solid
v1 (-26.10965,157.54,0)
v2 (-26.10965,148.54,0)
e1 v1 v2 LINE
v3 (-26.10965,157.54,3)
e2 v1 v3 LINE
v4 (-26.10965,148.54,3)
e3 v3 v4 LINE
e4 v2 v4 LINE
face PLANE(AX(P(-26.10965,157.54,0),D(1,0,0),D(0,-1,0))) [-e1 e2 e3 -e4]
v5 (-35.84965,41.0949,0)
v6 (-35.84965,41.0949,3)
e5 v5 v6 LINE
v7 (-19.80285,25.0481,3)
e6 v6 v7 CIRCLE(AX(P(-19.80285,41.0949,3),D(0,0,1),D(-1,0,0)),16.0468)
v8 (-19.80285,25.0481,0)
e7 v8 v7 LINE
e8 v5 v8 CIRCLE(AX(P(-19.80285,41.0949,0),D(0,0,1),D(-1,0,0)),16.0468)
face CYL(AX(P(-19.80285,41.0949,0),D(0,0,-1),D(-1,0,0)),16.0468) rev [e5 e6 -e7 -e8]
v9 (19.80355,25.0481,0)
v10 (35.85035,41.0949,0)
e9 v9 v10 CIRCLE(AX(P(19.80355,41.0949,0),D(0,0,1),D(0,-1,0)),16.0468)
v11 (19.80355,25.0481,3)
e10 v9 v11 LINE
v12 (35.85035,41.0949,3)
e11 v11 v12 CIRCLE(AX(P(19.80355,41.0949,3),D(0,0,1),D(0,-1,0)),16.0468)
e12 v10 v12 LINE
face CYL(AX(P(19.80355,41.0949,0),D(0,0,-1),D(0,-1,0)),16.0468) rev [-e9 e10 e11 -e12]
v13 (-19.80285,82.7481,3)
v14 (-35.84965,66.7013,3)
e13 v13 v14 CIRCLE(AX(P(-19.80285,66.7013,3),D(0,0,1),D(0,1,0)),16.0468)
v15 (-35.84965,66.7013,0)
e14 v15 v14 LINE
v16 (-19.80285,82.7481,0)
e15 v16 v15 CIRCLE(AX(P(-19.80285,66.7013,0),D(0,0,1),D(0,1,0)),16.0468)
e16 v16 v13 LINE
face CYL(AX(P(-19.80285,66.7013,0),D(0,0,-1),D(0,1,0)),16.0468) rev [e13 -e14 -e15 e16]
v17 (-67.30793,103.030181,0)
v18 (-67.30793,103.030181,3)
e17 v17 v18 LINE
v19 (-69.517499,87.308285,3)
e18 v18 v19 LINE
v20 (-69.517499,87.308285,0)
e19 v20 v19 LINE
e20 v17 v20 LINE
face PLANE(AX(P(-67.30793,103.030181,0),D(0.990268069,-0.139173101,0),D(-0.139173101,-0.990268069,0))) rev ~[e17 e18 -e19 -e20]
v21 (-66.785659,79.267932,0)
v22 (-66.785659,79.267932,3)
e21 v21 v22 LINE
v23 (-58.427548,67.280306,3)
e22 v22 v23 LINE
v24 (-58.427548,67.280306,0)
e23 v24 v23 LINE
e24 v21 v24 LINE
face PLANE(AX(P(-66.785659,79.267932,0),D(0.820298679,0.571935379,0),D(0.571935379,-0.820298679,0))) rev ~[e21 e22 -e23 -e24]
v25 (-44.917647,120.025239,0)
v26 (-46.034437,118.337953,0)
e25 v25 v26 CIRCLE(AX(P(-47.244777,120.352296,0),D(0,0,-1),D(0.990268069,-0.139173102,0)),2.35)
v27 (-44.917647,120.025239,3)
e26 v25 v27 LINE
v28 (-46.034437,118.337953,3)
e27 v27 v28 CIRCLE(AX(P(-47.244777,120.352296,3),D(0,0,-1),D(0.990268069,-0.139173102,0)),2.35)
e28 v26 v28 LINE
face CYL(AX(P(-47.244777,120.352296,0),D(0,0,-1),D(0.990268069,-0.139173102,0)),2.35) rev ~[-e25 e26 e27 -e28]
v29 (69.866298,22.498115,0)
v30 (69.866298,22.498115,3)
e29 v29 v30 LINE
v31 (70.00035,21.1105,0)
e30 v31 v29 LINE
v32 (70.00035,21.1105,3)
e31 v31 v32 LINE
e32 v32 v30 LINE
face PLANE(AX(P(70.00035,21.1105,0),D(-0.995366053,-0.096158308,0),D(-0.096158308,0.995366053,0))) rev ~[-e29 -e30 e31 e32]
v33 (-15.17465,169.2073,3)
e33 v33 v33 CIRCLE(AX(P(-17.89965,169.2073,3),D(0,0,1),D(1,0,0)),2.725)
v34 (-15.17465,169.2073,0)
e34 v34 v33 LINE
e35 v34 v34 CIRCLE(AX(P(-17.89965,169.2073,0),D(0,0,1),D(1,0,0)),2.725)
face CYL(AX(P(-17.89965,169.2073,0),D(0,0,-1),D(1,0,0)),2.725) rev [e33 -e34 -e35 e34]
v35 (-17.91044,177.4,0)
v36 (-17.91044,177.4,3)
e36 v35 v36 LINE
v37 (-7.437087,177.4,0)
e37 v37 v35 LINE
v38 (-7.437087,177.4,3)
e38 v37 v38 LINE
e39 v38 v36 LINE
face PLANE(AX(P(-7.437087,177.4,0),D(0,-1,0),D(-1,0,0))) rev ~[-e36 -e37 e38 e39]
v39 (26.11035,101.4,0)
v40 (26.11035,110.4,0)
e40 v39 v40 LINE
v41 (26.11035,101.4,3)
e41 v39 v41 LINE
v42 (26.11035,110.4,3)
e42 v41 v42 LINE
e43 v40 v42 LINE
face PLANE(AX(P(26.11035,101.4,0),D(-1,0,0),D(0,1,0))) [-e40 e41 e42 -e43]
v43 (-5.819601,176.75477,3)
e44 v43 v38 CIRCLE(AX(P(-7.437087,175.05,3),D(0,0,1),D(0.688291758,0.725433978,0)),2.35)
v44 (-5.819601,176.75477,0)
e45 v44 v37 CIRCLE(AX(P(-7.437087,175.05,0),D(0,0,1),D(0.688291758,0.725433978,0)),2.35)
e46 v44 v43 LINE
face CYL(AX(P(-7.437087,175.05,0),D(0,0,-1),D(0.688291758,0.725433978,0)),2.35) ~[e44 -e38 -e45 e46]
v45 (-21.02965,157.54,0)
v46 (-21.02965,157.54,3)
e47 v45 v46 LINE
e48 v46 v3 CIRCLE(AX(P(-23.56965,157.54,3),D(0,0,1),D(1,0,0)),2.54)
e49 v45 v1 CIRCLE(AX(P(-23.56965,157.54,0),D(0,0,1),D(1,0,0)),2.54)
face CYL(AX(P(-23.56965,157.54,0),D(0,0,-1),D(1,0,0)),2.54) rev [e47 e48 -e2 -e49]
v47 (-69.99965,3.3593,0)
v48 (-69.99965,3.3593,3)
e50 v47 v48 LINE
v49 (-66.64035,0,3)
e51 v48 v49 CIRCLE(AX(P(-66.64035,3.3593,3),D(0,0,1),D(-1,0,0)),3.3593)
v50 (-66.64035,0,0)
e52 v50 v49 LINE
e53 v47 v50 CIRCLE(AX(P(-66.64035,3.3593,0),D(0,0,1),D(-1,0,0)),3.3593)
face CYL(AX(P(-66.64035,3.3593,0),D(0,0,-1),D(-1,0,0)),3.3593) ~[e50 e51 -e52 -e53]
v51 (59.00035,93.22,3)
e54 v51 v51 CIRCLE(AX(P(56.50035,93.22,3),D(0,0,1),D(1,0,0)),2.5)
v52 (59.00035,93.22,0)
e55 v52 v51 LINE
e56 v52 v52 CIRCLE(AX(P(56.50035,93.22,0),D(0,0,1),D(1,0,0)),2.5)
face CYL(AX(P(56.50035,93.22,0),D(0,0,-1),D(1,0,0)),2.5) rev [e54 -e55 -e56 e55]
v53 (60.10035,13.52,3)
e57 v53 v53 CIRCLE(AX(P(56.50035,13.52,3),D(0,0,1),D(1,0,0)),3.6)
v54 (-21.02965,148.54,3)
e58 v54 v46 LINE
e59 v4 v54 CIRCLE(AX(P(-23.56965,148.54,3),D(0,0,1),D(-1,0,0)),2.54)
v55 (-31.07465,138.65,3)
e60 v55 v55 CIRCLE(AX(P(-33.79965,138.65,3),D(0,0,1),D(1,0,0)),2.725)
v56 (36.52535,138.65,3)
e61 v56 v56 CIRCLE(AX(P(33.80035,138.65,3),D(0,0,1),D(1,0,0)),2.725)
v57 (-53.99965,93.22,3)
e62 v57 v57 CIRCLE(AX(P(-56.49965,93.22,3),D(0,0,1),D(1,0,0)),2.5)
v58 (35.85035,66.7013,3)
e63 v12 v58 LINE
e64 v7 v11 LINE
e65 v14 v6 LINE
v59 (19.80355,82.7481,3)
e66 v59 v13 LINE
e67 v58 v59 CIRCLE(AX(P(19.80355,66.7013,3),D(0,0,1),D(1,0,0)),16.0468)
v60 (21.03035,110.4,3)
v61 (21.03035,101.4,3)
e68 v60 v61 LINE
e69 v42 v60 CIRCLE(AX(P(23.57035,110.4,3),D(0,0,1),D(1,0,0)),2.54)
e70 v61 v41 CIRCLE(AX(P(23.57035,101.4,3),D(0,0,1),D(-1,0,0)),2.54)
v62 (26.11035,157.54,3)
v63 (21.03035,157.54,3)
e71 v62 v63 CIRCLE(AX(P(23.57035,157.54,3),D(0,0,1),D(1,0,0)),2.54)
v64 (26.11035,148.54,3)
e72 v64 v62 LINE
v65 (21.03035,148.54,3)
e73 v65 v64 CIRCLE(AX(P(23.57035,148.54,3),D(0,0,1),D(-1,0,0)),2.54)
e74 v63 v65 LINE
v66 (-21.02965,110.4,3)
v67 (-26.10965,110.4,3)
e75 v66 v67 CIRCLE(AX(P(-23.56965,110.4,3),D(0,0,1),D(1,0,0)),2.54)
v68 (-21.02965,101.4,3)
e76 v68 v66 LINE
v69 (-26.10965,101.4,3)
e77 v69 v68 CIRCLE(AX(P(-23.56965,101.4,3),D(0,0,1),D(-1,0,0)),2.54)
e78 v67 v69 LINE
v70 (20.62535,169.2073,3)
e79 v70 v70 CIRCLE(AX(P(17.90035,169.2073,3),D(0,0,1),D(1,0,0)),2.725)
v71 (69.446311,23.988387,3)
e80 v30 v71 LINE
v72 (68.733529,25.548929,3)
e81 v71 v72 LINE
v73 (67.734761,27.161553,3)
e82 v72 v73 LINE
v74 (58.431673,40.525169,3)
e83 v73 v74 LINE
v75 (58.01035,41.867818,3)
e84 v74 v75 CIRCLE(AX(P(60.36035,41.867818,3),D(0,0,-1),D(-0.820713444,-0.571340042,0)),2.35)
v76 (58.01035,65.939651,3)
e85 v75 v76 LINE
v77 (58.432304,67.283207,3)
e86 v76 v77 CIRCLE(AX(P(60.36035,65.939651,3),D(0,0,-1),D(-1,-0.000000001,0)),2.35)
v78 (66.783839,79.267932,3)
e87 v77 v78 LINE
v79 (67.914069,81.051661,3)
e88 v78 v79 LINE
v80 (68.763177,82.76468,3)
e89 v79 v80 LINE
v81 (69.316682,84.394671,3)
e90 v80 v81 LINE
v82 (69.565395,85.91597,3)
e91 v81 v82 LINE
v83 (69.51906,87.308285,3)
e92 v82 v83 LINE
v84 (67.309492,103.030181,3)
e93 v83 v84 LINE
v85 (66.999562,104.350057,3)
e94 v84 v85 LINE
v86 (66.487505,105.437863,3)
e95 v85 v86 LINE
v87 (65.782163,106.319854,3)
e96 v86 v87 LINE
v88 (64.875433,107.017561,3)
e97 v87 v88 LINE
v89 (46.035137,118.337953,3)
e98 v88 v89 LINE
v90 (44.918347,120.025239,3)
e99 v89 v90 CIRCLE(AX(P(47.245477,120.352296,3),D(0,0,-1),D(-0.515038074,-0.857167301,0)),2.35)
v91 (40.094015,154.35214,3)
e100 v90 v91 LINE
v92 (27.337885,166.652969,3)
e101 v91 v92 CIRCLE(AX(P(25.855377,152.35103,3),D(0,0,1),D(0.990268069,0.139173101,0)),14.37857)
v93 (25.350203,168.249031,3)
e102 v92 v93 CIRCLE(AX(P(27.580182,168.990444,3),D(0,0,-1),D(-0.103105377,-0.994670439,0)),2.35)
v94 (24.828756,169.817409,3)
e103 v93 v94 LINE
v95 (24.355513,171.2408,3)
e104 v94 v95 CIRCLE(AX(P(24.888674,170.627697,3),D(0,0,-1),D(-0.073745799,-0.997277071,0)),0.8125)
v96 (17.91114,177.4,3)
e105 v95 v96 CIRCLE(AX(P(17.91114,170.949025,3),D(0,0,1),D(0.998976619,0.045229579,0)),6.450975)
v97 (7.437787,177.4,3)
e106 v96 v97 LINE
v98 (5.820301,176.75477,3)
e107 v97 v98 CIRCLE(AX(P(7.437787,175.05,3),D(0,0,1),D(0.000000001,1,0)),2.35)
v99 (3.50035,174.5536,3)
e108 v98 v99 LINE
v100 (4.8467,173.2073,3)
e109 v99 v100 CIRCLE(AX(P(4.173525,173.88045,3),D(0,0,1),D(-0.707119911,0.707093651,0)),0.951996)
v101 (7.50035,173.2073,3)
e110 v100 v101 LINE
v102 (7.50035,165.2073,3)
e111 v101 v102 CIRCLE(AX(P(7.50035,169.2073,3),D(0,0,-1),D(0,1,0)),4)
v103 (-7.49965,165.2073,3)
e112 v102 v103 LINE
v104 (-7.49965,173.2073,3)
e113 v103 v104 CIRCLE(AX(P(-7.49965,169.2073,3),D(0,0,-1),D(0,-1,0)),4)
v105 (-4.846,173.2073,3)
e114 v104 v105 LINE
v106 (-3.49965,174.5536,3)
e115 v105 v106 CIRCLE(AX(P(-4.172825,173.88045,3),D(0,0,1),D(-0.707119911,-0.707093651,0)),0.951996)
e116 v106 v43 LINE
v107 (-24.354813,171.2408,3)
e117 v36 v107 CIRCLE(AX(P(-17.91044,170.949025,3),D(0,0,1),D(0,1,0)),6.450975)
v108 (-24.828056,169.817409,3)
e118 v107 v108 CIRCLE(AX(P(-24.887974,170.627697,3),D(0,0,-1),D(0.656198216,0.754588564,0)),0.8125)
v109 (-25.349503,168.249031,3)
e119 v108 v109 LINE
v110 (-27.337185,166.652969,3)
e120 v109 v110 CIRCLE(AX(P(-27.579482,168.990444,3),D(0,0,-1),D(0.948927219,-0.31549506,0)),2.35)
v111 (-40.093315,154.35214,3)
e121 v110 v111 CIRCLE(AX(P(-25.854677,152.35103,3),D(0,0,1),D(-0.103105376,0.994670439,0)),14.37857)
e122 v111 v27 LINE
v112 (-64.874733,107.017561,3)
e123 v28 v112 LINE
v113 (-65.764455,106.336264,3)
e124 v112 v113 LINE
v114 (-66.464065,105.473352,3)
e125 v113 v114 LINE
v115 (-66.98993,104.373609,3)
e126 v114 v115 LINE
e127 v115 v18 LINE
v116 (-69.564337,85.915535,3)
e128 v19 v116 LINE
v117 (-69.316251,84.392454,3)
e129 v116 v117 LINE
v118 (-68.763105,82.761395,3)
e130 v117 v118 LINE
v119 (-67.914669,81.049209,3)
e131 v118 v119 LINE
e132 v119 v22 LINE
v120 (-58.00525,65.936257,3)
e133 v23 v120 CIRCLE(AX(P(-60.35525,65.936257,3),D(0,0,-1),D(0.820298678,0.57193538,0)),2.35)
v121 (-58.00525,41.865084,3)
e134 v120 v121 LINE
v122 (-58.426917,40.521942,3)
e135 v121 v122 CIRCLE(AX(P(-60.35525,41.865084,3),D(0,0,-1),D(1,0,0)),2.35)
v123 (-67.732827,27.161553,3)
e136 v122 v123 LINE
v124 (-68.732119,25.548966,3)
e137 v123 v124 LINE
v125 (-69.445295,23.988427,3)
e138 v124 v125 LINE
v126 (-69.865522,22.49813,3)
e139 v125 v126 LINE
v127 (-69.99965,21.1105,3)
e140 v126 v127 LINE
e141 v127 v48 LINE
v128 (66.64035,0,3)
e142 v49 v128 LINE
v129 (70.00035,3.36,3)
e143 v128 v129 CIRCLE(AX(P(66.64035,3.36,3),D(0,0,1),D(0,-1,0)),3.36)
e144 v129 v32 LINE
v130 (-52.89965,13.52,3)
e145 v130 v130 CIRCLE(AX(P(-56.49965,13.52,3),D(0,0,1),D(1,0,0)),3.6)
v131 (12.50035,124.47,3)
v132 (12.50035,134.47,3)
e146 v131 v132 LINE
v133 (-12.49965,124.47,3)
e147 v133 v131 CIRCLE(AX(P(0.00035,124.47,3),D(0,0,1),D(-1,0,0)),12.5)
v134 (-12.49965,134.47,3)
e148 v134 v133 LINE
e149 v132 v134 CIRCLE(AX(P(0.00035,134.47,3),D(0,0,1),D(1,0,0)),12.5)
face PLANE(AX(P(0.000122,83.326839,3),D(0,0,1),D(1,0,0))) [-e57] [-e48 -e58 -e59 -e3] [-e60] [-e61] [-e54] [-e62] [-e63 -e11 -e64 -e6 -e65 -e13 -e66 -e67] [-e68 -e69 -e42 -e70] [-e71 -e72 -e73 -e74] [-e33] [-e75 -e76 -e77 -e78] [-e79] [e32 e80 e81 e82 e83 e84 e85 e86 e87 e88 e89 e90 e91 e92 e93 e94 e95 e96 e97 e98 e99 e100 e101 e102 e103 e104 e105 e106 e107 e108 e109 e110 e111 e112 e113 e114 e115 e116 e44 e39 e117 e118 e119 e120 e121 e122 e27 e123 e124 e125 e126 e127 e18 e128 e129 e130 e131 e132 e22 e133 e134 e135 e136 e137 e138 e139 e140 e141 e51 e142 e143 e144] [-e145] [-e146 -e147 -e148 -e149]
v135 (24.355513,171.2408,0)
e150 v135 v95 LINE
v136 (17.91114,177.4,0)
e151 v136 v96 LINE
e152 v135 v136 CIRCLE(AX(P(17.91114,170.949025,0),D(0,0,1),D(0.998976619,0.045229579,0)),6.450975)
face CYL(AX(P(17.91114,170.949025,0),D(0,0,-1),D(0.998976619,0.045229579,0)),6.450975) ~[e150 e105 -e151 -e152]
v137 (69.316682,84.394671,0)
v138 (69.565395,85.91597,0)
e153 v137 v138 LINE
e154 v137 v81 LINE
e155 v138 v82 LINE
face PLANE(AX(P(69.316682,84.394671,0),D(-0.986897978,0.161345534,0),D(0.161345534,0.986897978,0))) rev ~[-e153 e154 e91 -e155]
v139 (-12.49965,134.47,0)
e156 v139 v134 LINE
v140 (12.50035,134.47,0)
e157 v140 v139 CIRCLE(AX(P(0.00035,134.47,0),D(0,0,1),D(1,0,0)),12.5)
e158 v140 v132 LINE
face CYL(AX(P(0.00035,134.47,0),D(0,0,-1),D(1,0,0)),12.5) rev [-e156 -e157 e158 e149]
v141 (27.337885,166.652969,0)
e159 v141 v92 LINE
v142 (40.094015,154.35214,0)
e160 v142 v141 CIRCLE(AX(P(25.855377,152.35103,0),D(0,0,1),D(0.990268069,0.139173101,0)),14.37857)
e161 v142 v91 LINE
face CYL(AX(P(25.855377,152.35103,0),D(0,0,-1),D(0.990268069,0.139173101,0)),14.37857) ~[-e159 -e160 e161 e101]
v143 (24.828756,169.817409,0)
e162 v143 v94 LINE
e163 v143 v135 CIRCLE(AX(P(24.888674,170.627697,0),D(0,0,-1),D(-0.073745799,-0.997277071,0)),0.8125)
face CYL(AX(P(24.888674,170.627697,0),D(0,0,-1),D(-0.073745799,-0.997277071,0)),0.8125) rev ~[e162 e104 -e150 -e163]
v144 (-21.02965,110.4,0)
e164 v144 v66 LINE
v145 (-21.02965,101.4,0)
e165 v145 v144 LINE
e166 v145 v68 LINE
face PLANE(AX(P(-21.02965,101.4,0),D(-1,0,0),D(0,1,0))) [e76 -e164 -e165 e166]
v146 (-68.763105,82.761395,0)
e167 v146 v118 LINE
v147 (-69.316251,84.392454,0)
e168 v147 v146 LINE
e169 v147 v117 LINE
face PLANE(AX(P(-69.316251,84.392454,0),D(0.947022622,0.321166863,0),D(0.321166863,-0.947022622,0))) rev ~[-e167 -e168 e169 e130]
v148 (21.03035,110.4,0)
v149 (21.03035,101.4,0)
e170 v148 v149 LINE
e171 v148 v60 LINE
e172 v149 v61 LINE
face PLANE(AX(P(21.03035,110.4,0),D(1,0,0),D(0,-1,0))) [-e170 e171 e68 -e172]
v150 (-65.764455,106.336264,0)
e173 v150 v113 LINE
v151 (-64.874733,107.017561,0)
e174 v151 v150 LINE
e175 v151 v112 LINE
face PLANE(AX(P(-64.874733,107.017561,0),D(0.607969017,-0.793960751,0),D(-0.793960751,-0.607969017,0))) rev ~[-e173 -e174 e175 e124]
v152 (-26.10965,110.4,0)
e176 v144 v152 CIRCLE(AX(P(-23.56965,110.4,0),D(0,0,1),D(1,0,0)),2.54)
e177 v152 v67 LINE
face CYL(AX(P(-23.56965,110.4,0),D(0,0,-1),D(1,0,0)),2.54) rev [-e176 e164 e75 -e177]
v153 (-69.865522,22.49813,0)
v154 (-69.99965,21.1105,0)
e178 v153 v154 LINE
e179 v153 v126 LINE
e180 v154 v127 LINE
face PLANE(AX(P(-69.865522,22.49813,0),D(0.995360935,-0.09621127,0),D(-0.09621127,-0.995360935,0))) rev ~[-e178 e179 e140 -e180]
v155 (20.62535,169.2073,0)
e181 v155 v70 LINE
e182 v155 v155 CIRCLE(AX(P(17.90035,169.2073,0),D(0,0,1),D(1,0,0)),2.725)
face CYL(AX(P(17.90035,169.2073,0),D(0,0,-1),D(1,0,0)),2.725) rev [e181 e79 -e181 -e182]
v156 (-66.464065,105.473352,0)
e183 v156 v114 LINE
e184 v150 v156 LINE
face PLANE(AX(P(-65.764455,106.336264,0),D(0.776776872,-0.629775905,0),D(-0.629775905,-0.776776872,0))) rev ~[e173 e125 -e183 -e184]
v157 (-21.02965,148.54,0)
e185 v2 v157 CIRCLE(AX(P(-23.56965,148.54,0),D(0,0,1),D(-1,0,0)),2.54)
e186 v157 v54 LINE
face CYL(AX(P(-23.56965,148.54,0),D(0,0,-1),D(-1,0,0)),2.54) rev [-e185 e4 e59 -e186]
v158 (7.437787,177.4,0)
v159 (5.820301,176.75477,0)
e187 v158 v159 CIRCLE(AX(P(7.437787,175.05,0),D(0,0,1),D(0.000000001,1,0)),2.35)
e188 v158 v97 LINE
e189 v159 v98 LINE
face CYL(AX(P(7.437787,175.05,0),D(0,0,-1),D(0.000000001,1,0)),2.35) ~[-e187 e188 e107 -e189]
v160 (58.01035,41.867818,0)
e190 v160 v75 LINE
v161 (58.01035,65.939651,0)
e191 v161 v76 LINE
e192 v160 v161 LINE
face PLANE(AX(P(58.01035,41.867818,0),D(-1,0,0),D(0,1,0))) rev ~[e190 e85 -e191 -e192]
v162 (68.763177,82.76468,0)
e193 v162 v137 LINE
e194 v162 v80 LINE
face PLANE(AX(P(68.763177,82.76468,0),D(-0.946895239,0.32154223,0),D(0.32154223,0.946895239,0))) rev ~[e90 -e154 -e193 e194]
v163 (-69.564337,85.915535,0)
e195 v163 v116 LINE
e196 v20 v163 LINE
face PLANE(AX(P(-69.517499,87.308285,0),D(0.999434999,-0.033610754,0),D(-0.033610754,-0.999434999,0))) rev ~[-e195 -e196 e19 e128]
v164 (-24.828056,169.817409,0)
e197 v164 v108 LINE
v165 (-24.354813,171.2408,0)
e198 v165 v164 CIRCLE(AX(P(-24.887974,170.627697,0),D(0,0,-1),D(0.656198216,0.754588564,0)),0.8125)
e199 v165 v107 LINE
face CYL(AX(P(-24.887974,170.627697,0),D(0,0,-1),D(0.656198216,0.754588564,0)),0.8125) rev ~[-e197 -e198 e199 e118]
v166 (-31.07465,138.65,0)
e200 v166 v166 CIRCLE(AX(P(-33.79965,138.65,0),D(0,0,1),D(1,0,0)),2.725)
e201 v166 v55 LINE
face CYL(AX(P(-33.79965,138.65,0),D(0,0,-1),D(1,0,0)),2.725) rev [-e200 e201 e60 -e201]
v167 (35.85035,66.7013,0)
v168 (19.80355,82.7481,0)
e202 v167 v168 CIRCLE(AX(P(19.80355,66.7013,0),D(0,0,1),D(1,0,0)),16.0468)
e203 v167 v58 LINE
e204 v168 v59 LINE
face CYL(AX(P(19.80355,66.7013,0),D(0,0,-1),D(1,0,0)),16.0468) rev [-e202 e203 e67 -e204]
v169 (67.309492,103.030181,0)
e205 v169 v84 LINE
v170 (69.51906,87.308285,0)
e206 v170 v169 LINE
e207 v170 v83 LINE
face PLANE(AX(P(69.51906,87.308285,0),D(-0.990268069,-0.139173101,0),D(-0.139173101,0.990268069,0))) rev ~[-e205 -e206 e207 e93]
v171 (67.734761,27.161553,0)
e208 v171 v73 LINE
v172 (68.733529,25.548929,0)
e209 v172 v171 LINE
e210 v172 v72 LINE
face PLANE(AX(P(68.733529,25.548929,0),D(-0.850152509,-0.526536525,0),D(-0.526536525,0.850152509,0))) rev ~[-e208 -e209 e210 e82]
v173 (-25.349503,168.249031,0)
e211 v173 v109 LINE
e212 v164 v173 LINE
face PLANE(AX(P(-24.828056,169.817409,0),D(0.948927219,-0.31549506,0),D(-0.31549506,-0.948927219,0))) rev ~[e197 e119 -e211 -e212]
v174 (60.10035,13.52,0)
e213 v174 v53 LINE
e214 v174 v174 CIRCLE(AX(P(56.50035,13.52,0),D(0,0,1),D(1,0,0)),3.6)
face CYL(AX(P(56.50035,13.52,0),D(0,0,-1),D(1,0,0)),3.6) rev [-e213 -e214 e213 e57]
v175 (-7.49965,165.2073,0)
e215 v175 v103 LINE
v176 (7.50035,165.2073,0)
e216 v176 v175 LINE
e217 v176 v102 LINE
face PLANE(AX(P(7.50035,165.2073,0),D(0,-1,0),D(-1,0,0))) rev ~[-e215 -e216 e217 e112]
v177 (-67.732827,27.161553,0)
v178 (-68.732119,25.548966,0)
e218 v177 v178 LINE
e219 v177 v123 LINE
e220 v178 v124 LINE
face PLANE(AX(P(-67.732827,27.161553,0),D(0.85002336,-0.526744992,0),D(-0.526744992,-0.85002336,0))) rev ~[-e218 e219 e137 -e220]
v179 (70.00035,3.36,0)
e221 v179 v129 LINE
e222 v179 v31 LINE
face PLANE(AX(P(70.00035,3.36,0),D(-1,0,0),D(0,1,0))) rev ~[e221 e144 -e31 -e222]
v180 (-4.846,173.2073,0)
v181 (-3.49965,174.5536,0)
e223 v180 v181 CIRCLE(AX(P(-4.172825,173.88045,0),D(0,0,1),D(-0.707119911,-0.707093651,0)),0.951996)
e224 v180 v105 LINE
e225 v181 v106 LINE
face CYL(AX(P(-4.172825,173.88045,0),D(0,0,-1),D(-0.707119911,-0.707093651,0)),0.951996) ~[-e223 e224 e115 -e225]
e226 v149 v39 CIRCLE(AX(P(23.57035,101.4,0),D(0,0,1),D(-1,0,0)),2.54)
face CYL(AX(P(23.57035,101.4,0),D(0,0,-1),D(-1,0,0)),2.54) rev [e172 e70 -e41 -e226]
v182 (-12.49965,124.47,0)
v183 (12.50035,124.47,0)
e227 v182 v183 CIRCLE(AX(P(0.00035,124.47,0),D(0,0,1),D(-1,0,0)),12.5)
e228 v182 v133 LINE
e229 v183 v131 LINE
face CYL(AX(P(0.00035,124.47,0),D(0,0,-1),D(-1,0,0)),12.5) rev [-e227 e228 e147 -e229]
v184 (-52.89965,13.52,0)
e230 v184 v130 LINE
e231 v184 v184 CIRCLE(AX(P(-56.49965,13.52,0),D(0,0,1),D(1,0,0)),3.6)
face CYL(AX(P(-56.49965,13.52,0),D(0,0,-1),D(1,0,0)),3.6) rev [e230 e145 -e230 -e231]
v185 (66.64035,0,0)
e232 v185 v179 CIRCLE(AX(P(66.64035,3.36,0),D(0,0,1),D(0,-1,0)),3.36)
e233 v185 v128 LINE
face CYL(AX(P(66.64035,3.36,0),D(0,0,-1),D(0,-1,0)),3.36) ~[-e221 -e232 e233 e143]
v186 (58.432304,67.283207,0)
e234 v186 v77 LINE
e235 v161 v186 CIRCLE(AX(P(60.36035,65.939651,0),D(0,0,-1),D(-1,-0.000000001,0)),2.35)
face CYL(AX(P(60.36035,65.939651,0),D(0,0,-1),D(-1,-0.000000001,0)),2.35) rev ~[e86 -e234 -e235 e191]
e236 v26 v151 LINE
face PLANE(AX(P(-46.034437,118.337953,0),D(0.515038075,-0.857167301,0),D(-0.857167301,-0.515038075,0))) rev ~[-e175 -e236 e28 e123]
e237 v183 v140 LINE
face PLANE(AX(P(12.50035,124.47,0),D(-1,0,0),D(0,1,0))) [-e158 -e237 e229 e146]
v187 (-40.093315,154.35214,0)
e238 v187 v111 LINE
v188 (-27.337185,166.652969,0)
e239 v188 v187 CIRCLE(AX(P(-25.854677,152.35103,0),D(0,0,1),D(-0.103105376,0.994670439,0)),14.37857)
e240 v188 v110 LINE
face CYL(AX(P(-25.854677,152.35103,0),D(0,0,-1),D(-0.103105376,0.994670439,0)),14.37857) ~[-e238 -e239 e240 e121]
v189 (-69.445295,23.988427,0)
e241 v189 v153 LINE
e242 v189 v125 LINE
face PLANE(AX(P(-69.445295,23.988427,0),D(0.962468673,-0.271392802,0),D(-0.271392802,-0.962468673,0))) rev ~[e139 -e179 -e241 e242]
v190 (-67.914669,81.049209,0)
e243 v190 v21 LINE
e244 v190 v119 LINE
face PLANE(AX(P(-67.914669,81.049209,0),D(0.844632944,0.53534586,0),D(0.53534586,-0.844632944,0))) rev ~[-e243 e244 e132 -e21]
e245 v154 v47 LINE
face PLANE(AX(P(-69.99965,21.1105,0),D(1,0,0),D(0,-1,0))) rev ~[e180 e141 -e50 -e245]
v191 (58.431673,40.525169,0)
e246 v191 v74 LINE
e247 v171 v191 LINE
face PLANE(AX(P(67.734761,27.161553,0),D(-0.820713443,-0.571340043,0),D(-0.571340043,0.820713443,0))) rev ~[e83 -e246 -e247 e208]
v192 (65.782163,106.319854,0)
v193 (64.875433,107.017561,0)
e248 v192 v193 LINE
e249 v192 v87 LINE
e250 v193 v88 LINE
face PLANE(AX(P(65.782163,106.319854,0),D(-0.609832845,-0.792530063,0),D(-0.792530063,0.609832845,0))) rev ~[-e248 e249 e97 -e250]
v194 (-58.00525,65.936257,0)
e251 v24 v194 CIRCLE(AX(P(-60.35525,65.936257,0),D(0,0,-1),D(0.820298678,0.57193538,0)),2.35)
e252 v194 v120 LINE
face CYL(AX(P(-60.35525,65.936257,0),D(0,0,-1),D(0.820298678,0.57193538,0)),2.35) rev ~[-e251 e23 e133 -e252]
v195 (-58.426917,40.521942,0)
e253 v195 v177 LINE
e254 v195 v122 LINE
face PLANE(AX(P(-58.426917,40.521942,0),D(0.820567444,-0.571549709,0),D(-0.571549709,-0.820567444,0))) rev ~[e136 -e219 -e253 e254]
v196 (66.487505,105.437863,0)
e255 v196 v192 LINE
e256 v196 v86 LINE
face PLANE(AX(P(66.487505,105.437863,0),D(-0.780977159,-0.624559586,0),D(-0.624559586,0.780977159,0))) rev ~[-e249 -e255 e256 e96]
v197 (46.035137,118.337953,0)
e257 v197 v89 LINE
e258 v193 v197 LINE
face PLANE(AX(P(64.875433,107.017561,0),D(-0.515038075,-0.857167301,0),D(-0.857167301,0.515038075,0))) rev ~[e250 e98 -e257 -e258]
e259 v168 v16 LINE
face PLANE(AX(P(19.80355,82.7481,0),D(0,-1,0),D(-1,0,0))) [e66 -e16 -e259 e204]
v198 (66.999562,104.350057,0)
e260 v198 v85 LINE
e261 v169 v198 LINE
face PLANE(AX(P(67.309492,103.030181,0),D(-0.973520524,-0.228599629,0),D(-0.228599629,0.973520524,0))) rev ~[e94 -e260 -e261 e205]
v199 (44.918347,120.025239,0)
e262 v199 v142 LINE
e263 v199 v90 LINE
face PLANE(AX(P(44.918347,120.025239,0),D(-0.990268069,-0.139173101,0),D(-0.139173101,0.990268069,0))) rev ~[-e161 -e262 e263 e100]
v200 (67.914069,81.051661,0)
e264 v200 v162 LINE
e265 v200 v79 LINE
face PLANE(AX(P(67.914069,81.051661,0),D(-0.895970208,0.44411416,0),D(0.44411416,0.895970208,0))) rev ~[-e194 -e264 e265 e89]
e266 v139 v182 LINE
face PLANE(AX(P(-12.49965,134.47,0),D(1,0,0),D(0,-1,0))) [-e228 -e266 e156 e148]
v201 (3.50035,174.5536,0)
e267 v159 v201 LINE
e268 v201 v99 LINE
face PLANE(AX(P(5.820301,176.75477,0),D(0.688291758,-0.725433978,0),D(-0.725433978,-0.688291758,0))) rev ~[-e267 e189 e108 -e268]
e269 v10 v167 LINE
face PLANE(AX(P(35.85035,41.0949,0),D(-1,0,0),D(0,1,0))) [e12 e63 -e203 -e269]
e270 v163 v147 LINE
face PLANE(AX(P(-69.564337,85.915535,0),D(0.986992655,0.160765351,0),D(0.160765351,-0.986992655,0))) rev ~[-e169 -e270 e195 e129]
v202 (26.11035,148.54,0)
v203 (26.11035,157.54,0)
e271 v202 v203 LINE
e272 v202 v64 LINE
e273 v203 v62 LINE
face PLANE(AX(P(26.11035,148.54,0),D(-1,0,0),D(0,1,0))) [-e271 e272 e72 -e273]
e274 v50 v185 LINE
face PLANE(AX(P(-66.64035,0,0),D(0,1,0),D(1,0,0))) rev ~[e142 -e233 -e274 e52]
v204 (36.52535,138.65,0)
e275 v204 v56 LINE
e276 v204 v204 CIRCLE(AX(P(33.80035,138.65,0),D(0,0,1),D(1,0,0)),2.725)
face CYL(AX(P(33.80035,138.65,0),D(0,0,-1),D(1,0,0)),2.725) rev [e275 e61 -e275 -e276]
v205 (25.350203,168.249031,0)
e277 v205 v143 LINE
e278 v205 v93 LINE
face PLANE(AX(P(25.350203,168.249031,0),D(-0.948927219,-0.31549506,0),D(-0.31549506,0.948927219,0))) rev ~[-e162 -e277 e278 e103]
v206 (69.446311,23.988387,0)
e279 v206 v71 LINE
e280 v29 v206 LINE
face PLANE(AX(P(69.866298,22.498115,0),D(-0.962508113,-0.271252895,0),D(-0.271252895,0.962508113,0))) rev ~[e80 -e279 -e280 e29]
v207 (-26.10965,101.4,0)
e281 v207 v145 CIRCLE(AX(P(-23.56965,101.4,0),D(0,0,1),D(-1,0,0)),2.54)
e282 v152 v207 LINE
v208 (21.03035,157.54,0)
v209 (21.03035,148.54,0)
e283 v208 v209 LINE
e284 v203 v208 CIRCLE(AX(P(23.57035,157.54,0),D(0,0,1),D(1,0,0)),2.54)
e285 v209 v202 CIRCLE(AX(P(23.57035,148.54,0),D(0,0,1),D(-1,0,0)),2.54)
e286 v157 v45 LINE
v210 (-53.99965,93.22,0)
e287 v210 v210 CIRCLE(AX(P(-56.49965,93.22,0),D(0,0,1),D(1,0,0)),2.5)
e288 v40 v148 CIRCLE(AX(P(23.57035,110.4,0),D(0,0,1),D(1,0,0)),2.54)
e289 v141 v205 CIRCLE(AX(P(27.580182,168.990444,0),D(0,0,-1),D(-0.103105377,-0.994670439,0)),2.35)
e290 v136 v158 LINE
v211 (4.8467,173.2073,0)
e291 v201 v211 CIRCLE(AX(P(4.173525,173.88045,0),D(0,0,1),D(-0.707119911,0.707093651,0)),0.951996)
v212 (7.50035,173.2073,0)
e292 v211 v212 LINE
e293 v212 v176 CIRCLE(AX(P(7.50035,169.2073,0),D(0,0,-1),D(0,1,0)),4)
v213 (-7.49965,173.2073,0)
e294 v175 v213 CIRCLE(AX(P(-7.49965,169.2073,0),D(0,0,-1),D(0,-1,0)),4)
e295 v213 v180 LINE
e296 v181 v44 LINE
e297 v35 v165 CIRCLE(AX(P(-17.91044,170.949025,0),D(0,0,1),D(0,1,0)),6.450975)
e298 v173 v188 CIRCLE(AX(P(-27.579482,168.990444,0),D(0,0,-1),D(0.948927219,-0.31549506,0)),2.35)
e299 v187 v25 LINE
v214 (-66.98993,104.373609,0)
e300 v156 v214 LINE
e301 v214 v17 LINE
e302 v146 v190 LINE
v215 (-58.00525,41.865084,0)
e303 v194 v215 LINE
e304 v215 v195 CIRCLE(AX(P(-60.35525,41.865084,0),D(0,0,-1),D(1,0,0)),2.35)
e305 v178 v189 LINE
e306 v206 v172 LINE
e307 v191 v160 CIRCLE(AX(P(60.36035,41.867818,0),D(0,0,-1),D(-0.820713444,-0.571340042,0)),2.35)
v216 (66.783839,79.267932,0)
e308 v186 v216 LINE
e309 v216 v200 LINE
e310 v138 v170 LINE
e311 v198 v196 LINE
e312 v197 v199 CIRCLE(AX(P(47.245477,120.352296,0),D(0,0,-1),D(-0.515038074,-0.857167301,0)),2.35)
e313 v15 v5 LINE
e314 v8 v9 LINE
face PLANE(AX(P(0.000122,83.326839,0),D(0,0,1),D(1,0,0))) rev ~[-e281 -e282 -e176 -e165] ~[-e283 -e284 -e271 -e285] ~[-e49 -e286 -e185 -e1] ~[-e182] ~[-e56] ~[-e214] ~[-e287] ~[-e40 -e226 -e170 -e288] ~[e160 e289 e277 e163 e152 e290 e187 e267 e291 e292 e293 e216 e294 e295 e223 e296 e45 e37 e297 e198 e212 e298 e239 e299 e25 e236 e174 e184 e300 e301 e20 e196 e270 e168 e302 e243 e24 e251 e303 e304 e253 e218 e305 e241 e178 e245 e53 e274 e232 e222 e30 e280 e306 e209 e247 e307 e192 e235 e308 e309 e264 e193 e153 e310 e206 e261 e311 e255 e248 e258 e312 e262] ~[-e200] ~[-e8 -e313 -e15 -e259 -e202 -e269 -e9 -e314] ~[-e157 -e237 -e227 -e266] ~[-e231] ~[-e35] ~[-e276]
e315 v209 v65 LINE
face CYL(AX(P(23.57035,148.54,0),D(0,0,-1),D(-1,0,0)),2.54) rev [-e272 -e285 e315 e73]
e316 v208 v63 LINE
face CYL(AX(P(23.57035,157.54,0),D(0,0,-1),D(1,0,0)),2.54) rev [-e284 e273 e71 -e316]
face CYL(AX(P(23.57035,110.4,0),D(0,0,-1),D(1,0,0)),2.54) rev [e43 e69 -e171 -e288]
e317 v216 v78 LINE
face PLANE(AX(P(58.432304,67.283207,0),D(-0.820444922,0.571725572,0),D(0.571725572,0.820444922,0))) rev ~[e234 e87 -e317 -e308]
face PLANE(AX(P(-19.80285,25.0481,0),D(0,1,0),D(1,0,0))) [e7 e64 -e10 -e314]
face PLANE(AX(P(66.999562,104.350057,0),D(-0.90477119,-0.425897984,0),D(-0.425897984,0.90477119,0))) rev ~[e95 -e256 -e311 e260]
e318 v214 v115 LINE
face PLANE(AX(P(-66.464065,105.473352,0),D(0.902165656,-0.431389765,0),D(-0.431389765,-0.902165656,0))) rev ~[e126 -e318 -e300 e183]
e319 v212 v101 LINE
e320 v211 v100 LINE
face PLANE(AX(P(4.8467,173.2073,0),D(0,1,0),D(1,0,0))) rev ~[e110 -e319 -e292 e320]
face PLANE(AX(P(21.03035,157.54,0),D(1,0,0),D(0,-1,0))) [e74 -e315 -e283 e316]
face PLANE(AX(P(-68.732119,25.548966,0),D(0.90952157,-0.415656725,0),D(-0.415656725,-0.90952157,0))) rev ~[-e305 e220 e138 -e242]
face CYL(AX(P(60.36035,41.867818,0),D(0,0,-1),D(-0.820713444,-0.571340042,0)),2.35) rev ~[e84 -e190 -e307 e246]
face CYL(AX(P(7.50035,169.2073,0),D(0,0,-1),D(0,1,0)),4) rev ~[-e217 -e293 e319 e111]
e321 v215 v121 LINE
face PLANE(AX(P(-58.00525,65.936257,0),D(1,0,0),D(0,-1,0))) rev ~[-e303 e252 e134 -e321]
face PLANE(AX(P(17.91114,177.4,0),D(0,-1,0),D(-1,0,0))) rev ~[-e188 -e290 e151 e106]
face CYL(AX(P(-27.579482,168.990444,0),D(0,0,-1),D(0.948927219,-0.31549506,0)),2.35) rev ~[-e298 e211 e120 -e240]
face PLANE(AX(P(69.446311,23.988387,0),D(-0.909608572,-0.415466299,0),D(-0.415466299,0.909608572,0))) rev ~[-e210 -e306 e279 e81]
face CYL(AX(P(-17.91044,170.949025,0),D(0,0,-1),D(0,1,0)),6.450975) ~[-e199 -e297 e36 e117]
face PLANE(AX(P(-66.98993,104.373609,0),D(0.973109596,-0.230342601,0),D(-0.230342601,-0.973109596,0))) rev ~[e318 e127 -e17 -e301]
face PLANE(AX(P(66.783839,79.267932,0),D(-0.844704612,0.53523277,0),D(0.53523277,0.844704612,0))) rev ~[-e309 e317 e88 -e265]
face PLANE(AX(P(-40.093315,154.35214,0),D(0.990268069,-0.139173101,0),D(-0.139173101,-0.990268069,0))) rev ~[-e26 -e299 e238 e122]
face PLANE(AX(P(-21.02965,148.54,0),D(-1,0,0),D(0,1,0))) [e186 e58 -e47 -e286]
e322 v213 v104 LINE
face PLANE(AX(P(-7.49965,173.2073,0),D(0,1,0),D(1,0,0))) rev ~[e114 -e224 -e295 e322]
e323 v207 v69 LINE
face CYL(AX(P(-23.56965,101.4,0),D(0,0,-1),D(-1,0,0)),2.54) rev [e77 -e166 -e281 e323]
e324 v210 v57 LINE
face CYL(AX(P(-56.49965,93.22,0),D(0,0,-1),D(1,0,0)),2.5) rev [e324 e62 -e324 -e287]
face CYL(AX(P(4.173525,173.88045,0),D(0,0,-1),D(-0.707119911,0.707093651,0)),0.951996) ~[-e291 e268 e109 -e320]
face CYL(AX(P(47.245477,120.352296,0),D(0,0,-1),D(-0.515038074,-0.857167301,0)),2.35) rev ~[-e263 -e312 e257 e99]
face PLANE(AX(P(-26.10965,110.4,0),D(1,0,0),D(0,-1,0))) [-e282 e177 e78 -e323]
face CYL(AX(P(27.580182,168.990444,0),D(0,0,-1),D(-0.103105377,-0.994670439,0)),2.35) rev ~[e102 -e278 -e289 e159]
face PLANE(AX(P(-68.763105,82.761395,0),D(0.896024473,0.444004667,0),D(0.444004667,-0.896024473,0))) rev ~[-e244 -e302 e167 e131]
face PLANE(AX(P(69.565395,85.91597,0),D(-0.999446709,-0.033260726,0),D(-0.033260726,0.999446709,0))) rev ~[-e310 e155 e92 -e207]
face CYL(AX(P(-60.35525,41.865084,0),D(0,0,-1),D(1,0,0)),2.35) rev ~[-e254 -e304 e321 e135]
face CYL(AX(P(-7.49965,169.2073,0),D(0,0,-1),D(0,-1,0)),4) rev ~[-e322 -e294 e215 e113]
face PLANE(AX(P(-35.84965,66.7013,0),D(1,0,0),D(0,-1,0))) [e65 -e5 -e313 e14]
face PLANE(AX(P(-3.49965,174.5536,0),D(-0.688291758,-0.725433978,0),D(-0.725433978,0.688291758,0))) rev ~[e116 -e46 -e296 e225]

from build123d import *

# Parameters (mm, degrees)
MODEL_R             = 3.6
MODEL_R_2           = 2.725
MODEL_R_3           = 2.5
BOSS_EXTRUDE1_DEPTH = 3


with BuildPart() as part:
    # Model → Boss-Extrude1 (new body)
    with BuildSketch(Plane.XY):
        with BuildLine():
            Line((-66.64035, 0), (66.64035, 0))
            ThreePointArc((66.64035, 0), (69.016228785, 0.984121215), (70.00035, 3.36))
            Line((70.00035, 3.36), (70.00035, 21.1105))
            Line((70.00035, 21.1105), (69.86629813, 22.498114684))
            Line((69.86629813, 22.498114684), (69.446311232, 23.988387428))
            Line((69.446311232, 23.988387428), (68.733529412, 25.548929055))
            Line((68.733529412, 25.548929055), (67.734761359, 27.16155254))
            Line((67.734761359, 27.16155254), (58.431673409, 40.525169242))
            ThreePointArc((58.431673409, 40.525169242), (58.118153534, 41.164216889), (58.01035, 41.867818343))
            Line((58.01035, 41.867818343), (58.01035, 65.939651469))
            ThreePointArc((58.01035, 65.939651469), (58.11831888, 66.643779624), (58.432304432, 67.283206562))
            Line((58.432304432, 67.283206562), (66.78383855, 79.267931576))
            Line((66.78383855, 79.267931576), (67.914068691, 81.051661321))
            Line((67.914068691, 81.051661321), (68.763177176, 82.764680123))
            Line((68.763177176, 82.764680123), (69.316681884, 84.394671222))
            Line((69.316681884, 84.394671222), (69.565395366, 85.915970428))
            Line((69.565395366, 85.915970428), (69.519060346, 87.308284697))
            Line((69.519060346, 87.308284697), (67.30949192, 103.030180971))
            Line((67.30949192, 103.030180971), (66.999561947, 104.350057085))
            Line((66.999561947, 104.350057085), (66.487504991, 105.437863083))
            Line((66.487504991, 105.437863083), (65.782163484, 106.319853558))
            Line((65.782163484, 106.319853558), (64.875433482, 107.017560512))
            Line((64.875433482, 107.017560512), (46.0351373, 118.337952538))
            ThreePointArc((46.0351373, 118.337952538), (45.285845094, 119.055243779), (44.918346815, 120.025238907))
            Line((44.918346815, 120.025238907), (40.094015429, 154.352140382))
            ThreePointArc((40.094015429, 154.352140382), (35.836168672, 162.70125074), (27.337884769, 166.652968529))
            ThreePointArc((27.337884769, 166.652968529), (26.108825382, 167.158066229), (25.350203438, 168.24903067))
            Line((25.350203438, 168.24903067), (24.828755998, 169.817409171))
            ThreePointArc((24.828755998, 169.817409171), (24.117671094, 170.371357056), (24.355513409, 171.2408))
            ThreePointArc((24.355513409, 171.2408), (22.368316822, 175.612570409), (17.911140334, 177.4))
            Line((17.911140334, 177.4), (7.437786988, 177.4))
            ThreePointArc((7.437786988, 177.4), (6.567071518, 177.232740152), (5.820301357, 176.754769847))
            Line((5.820301357, 176.754769847), (3.50035, 174.5536))
            ThreePointArc((3.50035, 174.5536), (3.500375, 173.207275), (4.8467, 173.2073))
            Line((4.8467, 173.2073), (7.50035, 173.2073))
            ThreePointArc((7.50035, 173.2073), (11.50035, 169.2073), (7.50035, 165.2073))
            Line((7.50035, 165.2073), (-7.49965, 165.2073))
            ThreePointArc((-7.49965, 165.2073), (-11.49965, 169.2073), (-7.49965, 173.2073))
            Line((-7.49965, 173.2073), (-4.846, 173.2073))
            ThreePointArc((-4.846, 173.2073), (-3.499675, 173.207275), (-3.49965, 174.5536))
            Line((-3.49965, 174.5536), (-5.819601357, 176.754769848))
            ThreePointArc((-5.819601357, 176.754769848), (-6.566371518, 177.232740152), (-7.437086988, 177.4))
            Line((-7.437086988, 177.4), (-17.910440334, 177.4))
            ThreePointArc((-17.910440334, 177.4), (-22.367616822, 175.612570409), (-24.354813409, 171.2408))
            ThreePointArc((-24.354813409, 171.2408), (-24.116971094, 170.371357056), (-24.828055998, 169.817409171))
            Line((-24.828055998, 169.817409171), (-25.349503438, 168.24903067))
            ThreePointArc((-25.349503438, 168.24903067), (-26.108125382, 167.158066229), (-27.337184769, 166.652968529))
            ThreePointArc((-27.337184769, 166.652968529), (-35.835468672, 162.70125074), (-40.093315429, 154.352140382))
            Line((-40.093315429, 154.352140382), (-44.917646815, 120.025238907))
            ThreePointArc((-44.917646815, 120.025238907), (-45.285145095, 119.055243779), (-46.0344373, 118.337952538))
            Line((-46.0344373, 118.337952538), (-64.874733482, 107.017560512))
            Line((-64.874733482, 107.017560512), (-65.764454542, 106.336263813))
            Line((-65.764454542, 106.336263813), (-66.464064741, 105.473352073))
            Line((-66.464064741, 105.473352073), (-66.989930499, 104.37360872))
            Line((-66.989930499, 104.37360872), (-67.307930284, 103.030180971))
            Line((-67.307930284, 103.030180971), (-69.517498709, 87.308284697))
            Line((-69.517498709, 87.308284697), (-69.564336548, 85.915534746))
            Line((-69.564336548, 85.915534746), (-69.316250952, 84.392453689))
            Line((-69.316250952, 84.392453689), (-68.763104771, 82.761395172))
            Line((-68.763104771, 82.761395172), (-67.914669475, 81.049208688))
            Line((-67.914669475, 81.049208688), (-66.785659136, 79.267931576))
            Line((-66.785659136, 79.267931576), (-58.427548106, 67.280305558))
            ThreePointArc((-58.427548106, 67.280305558), (-58.113308938, 66.640672262), (-58.00525, 65.936257417))
            Line((-58.00525, 65.936257417), (-58.00525, 41.865084223))
            ThreePointArc((-58.00525, 41.865084223), (-58.113143434, 41.161196344), (-58.426916507, 40.521942406))
            Line((-58.426916507, 40.521942406), (-67.732826699, 27.16155254))
            Line((-67.732826699, 27.16155254), (-68.732119035, 25.548966105))
            Line((-68.732119035, 25.548966105), (-69.445294681, 23.988426858))
            Line((-69.445294681, 23.988426858), (-69.86552208, 22.498130488))
            Line((-69.86552208, 22.498130488), (-69.99965, 21.1105))
            Line((-69.99965, 21.1105), (-69.99965, 3.3593))
            ThreePointArc((-69.99965, 3.3593), (-69.01573381, 0.98391619), (-66.64035, 0))
        make_face()
        with Locations((-56.49965, 13.52)):
            Circle(MODEL_R, mode=Mode.SUBTRACT)
        with Locations((-17.89965, 169.2073)):
            Circle(MODEL_R_2, mode=Mode.SUBTRACT)
        with Locations((-33.79965, 138.65)):
            Circle(MODEL_R_2, mode=Mode.SUBTRACT)
        with Locations((-56.49965, 93.22)):
            Circle(MODEL_R_3, mode=Mode.SUBTRACT)
        with Locations((56.50035, 13.52)):
            Circle(MODEL_R, mode=Mode.SUBTRACT)
        with Locations((17.90035, 169.2073)):
            Circle(MODEL_R_2, mode=Mode.SUBTRACT)
        with Locations((33.80035, 138.65)):
            Circle(MODEL_R_2, mode=Mode.SUBTRACT)
        with Locations((56.50035, 93.22)):
            Circle(MODEL_R_3, mode=Mode.SUBTRACT)
        with BuildLine():
            Line((-19.80285, 25.0481), (19.80355, 25.0481))
            ThreePointArc((19.80355, 25.0481), (31.150351096, 29.748098904), (35.85035, 41.0949))
            Line((35.85035, 41.0949), (35.85035, 66.7013))
            ThreePointArc((35.85035, 66.7013), (31.150351096, 78.048101096), (19.80355, 82.7481))
            Line((19.80355, 82.7481), (-19.80285, 82.7481))
            ThreePointArc((-19.80285, 82.7481), (-31.149651096, 78.048101096), (-35.84965, 66.7013))
            Line((-35.84965, 66.7013), (-35.84965, 41.0949))
            ThreePointArc((-35.84965, 41.0949), (-31.149651096, 29.748098904), (-19.80285, 25.0481))
        make_face(mode=Mode.SUBTRACT)
        with BuildLine():
            Line((-26.10965, 157.54), (-26.10965, 148.54))
            ThreePointArc((-26.10965, 148.54), (-23.56965, 146), (-21.02965, 148.54))
            Line((-21.02965, 148.54), (-21.02965, 157.54))
            ThreePointArc((-21.02965, 157.54), (-23.56965, 160.08), (-26.10965, 157.54))
        make_face(mode=Mode.SUBTRACT)
        with BuildLine():
            Line((-26.10965, 110.4), (-26.10965, 101.4))
            ThreePointArc((-26.10965, 101.4), (-23.56965, 98.86), (-21.02965, 101.4))
            Line((-21.02965, 101.4), (-21.02965, 110.4))
            ThreePointArc((-21.02965, 110.4), (-23.56965, 112.94), (-26.10965, 110.4))
        make_face(mode=Mode.SUBTRACT)
        with BuildLine():
            Line((-12.49965, 134.47), (-12.49965, 124.47))
            ThreePointArc((-12.49965, 124.47), (0.00035, 111.97), (12.50035, 124.47))
            Line((12.50035, 124.47), (12.50035, 134.47))
            ThreePointArc((12.50035, 134.47), (0.00035, 146.97), (-12.49965, 134.47))
        make_face(mode=Mode.SUBTRACT)
        with BuildLine():
            Line((21.03035, 157.54), (21.03035, 148.54))
            ThreePointArc((21.03035, 148.54), (23.57035, 146), (26.11035, 148.54))
            Line((26.11035, 148.54), (26.11035, 157.54))
            ThreePointArc((26.11035, 157.54), (23.57035, 160.08), (21.03035, 157.54))
        make_face(mode=Mode.SUBTRACT)
        with BuildLine():
            Line((21.03035, 110.4), (21.03035, 101.4))
            ThreePointArc((21.03035, 101.4), (23.57035, 98.86), (26.11035, 101.4))
            Line((26.11035, 101.4), (26.11035, 110.4))
            ThreePointArc((26.11035, 110.4), (23.57035, 112.94), (21.03035, 110.4))
        make_face(mode=Mode.SUBTRACT)
    extrude(amount=BOSS_EXTRUDE1_DEPTH)


solid = part.part
